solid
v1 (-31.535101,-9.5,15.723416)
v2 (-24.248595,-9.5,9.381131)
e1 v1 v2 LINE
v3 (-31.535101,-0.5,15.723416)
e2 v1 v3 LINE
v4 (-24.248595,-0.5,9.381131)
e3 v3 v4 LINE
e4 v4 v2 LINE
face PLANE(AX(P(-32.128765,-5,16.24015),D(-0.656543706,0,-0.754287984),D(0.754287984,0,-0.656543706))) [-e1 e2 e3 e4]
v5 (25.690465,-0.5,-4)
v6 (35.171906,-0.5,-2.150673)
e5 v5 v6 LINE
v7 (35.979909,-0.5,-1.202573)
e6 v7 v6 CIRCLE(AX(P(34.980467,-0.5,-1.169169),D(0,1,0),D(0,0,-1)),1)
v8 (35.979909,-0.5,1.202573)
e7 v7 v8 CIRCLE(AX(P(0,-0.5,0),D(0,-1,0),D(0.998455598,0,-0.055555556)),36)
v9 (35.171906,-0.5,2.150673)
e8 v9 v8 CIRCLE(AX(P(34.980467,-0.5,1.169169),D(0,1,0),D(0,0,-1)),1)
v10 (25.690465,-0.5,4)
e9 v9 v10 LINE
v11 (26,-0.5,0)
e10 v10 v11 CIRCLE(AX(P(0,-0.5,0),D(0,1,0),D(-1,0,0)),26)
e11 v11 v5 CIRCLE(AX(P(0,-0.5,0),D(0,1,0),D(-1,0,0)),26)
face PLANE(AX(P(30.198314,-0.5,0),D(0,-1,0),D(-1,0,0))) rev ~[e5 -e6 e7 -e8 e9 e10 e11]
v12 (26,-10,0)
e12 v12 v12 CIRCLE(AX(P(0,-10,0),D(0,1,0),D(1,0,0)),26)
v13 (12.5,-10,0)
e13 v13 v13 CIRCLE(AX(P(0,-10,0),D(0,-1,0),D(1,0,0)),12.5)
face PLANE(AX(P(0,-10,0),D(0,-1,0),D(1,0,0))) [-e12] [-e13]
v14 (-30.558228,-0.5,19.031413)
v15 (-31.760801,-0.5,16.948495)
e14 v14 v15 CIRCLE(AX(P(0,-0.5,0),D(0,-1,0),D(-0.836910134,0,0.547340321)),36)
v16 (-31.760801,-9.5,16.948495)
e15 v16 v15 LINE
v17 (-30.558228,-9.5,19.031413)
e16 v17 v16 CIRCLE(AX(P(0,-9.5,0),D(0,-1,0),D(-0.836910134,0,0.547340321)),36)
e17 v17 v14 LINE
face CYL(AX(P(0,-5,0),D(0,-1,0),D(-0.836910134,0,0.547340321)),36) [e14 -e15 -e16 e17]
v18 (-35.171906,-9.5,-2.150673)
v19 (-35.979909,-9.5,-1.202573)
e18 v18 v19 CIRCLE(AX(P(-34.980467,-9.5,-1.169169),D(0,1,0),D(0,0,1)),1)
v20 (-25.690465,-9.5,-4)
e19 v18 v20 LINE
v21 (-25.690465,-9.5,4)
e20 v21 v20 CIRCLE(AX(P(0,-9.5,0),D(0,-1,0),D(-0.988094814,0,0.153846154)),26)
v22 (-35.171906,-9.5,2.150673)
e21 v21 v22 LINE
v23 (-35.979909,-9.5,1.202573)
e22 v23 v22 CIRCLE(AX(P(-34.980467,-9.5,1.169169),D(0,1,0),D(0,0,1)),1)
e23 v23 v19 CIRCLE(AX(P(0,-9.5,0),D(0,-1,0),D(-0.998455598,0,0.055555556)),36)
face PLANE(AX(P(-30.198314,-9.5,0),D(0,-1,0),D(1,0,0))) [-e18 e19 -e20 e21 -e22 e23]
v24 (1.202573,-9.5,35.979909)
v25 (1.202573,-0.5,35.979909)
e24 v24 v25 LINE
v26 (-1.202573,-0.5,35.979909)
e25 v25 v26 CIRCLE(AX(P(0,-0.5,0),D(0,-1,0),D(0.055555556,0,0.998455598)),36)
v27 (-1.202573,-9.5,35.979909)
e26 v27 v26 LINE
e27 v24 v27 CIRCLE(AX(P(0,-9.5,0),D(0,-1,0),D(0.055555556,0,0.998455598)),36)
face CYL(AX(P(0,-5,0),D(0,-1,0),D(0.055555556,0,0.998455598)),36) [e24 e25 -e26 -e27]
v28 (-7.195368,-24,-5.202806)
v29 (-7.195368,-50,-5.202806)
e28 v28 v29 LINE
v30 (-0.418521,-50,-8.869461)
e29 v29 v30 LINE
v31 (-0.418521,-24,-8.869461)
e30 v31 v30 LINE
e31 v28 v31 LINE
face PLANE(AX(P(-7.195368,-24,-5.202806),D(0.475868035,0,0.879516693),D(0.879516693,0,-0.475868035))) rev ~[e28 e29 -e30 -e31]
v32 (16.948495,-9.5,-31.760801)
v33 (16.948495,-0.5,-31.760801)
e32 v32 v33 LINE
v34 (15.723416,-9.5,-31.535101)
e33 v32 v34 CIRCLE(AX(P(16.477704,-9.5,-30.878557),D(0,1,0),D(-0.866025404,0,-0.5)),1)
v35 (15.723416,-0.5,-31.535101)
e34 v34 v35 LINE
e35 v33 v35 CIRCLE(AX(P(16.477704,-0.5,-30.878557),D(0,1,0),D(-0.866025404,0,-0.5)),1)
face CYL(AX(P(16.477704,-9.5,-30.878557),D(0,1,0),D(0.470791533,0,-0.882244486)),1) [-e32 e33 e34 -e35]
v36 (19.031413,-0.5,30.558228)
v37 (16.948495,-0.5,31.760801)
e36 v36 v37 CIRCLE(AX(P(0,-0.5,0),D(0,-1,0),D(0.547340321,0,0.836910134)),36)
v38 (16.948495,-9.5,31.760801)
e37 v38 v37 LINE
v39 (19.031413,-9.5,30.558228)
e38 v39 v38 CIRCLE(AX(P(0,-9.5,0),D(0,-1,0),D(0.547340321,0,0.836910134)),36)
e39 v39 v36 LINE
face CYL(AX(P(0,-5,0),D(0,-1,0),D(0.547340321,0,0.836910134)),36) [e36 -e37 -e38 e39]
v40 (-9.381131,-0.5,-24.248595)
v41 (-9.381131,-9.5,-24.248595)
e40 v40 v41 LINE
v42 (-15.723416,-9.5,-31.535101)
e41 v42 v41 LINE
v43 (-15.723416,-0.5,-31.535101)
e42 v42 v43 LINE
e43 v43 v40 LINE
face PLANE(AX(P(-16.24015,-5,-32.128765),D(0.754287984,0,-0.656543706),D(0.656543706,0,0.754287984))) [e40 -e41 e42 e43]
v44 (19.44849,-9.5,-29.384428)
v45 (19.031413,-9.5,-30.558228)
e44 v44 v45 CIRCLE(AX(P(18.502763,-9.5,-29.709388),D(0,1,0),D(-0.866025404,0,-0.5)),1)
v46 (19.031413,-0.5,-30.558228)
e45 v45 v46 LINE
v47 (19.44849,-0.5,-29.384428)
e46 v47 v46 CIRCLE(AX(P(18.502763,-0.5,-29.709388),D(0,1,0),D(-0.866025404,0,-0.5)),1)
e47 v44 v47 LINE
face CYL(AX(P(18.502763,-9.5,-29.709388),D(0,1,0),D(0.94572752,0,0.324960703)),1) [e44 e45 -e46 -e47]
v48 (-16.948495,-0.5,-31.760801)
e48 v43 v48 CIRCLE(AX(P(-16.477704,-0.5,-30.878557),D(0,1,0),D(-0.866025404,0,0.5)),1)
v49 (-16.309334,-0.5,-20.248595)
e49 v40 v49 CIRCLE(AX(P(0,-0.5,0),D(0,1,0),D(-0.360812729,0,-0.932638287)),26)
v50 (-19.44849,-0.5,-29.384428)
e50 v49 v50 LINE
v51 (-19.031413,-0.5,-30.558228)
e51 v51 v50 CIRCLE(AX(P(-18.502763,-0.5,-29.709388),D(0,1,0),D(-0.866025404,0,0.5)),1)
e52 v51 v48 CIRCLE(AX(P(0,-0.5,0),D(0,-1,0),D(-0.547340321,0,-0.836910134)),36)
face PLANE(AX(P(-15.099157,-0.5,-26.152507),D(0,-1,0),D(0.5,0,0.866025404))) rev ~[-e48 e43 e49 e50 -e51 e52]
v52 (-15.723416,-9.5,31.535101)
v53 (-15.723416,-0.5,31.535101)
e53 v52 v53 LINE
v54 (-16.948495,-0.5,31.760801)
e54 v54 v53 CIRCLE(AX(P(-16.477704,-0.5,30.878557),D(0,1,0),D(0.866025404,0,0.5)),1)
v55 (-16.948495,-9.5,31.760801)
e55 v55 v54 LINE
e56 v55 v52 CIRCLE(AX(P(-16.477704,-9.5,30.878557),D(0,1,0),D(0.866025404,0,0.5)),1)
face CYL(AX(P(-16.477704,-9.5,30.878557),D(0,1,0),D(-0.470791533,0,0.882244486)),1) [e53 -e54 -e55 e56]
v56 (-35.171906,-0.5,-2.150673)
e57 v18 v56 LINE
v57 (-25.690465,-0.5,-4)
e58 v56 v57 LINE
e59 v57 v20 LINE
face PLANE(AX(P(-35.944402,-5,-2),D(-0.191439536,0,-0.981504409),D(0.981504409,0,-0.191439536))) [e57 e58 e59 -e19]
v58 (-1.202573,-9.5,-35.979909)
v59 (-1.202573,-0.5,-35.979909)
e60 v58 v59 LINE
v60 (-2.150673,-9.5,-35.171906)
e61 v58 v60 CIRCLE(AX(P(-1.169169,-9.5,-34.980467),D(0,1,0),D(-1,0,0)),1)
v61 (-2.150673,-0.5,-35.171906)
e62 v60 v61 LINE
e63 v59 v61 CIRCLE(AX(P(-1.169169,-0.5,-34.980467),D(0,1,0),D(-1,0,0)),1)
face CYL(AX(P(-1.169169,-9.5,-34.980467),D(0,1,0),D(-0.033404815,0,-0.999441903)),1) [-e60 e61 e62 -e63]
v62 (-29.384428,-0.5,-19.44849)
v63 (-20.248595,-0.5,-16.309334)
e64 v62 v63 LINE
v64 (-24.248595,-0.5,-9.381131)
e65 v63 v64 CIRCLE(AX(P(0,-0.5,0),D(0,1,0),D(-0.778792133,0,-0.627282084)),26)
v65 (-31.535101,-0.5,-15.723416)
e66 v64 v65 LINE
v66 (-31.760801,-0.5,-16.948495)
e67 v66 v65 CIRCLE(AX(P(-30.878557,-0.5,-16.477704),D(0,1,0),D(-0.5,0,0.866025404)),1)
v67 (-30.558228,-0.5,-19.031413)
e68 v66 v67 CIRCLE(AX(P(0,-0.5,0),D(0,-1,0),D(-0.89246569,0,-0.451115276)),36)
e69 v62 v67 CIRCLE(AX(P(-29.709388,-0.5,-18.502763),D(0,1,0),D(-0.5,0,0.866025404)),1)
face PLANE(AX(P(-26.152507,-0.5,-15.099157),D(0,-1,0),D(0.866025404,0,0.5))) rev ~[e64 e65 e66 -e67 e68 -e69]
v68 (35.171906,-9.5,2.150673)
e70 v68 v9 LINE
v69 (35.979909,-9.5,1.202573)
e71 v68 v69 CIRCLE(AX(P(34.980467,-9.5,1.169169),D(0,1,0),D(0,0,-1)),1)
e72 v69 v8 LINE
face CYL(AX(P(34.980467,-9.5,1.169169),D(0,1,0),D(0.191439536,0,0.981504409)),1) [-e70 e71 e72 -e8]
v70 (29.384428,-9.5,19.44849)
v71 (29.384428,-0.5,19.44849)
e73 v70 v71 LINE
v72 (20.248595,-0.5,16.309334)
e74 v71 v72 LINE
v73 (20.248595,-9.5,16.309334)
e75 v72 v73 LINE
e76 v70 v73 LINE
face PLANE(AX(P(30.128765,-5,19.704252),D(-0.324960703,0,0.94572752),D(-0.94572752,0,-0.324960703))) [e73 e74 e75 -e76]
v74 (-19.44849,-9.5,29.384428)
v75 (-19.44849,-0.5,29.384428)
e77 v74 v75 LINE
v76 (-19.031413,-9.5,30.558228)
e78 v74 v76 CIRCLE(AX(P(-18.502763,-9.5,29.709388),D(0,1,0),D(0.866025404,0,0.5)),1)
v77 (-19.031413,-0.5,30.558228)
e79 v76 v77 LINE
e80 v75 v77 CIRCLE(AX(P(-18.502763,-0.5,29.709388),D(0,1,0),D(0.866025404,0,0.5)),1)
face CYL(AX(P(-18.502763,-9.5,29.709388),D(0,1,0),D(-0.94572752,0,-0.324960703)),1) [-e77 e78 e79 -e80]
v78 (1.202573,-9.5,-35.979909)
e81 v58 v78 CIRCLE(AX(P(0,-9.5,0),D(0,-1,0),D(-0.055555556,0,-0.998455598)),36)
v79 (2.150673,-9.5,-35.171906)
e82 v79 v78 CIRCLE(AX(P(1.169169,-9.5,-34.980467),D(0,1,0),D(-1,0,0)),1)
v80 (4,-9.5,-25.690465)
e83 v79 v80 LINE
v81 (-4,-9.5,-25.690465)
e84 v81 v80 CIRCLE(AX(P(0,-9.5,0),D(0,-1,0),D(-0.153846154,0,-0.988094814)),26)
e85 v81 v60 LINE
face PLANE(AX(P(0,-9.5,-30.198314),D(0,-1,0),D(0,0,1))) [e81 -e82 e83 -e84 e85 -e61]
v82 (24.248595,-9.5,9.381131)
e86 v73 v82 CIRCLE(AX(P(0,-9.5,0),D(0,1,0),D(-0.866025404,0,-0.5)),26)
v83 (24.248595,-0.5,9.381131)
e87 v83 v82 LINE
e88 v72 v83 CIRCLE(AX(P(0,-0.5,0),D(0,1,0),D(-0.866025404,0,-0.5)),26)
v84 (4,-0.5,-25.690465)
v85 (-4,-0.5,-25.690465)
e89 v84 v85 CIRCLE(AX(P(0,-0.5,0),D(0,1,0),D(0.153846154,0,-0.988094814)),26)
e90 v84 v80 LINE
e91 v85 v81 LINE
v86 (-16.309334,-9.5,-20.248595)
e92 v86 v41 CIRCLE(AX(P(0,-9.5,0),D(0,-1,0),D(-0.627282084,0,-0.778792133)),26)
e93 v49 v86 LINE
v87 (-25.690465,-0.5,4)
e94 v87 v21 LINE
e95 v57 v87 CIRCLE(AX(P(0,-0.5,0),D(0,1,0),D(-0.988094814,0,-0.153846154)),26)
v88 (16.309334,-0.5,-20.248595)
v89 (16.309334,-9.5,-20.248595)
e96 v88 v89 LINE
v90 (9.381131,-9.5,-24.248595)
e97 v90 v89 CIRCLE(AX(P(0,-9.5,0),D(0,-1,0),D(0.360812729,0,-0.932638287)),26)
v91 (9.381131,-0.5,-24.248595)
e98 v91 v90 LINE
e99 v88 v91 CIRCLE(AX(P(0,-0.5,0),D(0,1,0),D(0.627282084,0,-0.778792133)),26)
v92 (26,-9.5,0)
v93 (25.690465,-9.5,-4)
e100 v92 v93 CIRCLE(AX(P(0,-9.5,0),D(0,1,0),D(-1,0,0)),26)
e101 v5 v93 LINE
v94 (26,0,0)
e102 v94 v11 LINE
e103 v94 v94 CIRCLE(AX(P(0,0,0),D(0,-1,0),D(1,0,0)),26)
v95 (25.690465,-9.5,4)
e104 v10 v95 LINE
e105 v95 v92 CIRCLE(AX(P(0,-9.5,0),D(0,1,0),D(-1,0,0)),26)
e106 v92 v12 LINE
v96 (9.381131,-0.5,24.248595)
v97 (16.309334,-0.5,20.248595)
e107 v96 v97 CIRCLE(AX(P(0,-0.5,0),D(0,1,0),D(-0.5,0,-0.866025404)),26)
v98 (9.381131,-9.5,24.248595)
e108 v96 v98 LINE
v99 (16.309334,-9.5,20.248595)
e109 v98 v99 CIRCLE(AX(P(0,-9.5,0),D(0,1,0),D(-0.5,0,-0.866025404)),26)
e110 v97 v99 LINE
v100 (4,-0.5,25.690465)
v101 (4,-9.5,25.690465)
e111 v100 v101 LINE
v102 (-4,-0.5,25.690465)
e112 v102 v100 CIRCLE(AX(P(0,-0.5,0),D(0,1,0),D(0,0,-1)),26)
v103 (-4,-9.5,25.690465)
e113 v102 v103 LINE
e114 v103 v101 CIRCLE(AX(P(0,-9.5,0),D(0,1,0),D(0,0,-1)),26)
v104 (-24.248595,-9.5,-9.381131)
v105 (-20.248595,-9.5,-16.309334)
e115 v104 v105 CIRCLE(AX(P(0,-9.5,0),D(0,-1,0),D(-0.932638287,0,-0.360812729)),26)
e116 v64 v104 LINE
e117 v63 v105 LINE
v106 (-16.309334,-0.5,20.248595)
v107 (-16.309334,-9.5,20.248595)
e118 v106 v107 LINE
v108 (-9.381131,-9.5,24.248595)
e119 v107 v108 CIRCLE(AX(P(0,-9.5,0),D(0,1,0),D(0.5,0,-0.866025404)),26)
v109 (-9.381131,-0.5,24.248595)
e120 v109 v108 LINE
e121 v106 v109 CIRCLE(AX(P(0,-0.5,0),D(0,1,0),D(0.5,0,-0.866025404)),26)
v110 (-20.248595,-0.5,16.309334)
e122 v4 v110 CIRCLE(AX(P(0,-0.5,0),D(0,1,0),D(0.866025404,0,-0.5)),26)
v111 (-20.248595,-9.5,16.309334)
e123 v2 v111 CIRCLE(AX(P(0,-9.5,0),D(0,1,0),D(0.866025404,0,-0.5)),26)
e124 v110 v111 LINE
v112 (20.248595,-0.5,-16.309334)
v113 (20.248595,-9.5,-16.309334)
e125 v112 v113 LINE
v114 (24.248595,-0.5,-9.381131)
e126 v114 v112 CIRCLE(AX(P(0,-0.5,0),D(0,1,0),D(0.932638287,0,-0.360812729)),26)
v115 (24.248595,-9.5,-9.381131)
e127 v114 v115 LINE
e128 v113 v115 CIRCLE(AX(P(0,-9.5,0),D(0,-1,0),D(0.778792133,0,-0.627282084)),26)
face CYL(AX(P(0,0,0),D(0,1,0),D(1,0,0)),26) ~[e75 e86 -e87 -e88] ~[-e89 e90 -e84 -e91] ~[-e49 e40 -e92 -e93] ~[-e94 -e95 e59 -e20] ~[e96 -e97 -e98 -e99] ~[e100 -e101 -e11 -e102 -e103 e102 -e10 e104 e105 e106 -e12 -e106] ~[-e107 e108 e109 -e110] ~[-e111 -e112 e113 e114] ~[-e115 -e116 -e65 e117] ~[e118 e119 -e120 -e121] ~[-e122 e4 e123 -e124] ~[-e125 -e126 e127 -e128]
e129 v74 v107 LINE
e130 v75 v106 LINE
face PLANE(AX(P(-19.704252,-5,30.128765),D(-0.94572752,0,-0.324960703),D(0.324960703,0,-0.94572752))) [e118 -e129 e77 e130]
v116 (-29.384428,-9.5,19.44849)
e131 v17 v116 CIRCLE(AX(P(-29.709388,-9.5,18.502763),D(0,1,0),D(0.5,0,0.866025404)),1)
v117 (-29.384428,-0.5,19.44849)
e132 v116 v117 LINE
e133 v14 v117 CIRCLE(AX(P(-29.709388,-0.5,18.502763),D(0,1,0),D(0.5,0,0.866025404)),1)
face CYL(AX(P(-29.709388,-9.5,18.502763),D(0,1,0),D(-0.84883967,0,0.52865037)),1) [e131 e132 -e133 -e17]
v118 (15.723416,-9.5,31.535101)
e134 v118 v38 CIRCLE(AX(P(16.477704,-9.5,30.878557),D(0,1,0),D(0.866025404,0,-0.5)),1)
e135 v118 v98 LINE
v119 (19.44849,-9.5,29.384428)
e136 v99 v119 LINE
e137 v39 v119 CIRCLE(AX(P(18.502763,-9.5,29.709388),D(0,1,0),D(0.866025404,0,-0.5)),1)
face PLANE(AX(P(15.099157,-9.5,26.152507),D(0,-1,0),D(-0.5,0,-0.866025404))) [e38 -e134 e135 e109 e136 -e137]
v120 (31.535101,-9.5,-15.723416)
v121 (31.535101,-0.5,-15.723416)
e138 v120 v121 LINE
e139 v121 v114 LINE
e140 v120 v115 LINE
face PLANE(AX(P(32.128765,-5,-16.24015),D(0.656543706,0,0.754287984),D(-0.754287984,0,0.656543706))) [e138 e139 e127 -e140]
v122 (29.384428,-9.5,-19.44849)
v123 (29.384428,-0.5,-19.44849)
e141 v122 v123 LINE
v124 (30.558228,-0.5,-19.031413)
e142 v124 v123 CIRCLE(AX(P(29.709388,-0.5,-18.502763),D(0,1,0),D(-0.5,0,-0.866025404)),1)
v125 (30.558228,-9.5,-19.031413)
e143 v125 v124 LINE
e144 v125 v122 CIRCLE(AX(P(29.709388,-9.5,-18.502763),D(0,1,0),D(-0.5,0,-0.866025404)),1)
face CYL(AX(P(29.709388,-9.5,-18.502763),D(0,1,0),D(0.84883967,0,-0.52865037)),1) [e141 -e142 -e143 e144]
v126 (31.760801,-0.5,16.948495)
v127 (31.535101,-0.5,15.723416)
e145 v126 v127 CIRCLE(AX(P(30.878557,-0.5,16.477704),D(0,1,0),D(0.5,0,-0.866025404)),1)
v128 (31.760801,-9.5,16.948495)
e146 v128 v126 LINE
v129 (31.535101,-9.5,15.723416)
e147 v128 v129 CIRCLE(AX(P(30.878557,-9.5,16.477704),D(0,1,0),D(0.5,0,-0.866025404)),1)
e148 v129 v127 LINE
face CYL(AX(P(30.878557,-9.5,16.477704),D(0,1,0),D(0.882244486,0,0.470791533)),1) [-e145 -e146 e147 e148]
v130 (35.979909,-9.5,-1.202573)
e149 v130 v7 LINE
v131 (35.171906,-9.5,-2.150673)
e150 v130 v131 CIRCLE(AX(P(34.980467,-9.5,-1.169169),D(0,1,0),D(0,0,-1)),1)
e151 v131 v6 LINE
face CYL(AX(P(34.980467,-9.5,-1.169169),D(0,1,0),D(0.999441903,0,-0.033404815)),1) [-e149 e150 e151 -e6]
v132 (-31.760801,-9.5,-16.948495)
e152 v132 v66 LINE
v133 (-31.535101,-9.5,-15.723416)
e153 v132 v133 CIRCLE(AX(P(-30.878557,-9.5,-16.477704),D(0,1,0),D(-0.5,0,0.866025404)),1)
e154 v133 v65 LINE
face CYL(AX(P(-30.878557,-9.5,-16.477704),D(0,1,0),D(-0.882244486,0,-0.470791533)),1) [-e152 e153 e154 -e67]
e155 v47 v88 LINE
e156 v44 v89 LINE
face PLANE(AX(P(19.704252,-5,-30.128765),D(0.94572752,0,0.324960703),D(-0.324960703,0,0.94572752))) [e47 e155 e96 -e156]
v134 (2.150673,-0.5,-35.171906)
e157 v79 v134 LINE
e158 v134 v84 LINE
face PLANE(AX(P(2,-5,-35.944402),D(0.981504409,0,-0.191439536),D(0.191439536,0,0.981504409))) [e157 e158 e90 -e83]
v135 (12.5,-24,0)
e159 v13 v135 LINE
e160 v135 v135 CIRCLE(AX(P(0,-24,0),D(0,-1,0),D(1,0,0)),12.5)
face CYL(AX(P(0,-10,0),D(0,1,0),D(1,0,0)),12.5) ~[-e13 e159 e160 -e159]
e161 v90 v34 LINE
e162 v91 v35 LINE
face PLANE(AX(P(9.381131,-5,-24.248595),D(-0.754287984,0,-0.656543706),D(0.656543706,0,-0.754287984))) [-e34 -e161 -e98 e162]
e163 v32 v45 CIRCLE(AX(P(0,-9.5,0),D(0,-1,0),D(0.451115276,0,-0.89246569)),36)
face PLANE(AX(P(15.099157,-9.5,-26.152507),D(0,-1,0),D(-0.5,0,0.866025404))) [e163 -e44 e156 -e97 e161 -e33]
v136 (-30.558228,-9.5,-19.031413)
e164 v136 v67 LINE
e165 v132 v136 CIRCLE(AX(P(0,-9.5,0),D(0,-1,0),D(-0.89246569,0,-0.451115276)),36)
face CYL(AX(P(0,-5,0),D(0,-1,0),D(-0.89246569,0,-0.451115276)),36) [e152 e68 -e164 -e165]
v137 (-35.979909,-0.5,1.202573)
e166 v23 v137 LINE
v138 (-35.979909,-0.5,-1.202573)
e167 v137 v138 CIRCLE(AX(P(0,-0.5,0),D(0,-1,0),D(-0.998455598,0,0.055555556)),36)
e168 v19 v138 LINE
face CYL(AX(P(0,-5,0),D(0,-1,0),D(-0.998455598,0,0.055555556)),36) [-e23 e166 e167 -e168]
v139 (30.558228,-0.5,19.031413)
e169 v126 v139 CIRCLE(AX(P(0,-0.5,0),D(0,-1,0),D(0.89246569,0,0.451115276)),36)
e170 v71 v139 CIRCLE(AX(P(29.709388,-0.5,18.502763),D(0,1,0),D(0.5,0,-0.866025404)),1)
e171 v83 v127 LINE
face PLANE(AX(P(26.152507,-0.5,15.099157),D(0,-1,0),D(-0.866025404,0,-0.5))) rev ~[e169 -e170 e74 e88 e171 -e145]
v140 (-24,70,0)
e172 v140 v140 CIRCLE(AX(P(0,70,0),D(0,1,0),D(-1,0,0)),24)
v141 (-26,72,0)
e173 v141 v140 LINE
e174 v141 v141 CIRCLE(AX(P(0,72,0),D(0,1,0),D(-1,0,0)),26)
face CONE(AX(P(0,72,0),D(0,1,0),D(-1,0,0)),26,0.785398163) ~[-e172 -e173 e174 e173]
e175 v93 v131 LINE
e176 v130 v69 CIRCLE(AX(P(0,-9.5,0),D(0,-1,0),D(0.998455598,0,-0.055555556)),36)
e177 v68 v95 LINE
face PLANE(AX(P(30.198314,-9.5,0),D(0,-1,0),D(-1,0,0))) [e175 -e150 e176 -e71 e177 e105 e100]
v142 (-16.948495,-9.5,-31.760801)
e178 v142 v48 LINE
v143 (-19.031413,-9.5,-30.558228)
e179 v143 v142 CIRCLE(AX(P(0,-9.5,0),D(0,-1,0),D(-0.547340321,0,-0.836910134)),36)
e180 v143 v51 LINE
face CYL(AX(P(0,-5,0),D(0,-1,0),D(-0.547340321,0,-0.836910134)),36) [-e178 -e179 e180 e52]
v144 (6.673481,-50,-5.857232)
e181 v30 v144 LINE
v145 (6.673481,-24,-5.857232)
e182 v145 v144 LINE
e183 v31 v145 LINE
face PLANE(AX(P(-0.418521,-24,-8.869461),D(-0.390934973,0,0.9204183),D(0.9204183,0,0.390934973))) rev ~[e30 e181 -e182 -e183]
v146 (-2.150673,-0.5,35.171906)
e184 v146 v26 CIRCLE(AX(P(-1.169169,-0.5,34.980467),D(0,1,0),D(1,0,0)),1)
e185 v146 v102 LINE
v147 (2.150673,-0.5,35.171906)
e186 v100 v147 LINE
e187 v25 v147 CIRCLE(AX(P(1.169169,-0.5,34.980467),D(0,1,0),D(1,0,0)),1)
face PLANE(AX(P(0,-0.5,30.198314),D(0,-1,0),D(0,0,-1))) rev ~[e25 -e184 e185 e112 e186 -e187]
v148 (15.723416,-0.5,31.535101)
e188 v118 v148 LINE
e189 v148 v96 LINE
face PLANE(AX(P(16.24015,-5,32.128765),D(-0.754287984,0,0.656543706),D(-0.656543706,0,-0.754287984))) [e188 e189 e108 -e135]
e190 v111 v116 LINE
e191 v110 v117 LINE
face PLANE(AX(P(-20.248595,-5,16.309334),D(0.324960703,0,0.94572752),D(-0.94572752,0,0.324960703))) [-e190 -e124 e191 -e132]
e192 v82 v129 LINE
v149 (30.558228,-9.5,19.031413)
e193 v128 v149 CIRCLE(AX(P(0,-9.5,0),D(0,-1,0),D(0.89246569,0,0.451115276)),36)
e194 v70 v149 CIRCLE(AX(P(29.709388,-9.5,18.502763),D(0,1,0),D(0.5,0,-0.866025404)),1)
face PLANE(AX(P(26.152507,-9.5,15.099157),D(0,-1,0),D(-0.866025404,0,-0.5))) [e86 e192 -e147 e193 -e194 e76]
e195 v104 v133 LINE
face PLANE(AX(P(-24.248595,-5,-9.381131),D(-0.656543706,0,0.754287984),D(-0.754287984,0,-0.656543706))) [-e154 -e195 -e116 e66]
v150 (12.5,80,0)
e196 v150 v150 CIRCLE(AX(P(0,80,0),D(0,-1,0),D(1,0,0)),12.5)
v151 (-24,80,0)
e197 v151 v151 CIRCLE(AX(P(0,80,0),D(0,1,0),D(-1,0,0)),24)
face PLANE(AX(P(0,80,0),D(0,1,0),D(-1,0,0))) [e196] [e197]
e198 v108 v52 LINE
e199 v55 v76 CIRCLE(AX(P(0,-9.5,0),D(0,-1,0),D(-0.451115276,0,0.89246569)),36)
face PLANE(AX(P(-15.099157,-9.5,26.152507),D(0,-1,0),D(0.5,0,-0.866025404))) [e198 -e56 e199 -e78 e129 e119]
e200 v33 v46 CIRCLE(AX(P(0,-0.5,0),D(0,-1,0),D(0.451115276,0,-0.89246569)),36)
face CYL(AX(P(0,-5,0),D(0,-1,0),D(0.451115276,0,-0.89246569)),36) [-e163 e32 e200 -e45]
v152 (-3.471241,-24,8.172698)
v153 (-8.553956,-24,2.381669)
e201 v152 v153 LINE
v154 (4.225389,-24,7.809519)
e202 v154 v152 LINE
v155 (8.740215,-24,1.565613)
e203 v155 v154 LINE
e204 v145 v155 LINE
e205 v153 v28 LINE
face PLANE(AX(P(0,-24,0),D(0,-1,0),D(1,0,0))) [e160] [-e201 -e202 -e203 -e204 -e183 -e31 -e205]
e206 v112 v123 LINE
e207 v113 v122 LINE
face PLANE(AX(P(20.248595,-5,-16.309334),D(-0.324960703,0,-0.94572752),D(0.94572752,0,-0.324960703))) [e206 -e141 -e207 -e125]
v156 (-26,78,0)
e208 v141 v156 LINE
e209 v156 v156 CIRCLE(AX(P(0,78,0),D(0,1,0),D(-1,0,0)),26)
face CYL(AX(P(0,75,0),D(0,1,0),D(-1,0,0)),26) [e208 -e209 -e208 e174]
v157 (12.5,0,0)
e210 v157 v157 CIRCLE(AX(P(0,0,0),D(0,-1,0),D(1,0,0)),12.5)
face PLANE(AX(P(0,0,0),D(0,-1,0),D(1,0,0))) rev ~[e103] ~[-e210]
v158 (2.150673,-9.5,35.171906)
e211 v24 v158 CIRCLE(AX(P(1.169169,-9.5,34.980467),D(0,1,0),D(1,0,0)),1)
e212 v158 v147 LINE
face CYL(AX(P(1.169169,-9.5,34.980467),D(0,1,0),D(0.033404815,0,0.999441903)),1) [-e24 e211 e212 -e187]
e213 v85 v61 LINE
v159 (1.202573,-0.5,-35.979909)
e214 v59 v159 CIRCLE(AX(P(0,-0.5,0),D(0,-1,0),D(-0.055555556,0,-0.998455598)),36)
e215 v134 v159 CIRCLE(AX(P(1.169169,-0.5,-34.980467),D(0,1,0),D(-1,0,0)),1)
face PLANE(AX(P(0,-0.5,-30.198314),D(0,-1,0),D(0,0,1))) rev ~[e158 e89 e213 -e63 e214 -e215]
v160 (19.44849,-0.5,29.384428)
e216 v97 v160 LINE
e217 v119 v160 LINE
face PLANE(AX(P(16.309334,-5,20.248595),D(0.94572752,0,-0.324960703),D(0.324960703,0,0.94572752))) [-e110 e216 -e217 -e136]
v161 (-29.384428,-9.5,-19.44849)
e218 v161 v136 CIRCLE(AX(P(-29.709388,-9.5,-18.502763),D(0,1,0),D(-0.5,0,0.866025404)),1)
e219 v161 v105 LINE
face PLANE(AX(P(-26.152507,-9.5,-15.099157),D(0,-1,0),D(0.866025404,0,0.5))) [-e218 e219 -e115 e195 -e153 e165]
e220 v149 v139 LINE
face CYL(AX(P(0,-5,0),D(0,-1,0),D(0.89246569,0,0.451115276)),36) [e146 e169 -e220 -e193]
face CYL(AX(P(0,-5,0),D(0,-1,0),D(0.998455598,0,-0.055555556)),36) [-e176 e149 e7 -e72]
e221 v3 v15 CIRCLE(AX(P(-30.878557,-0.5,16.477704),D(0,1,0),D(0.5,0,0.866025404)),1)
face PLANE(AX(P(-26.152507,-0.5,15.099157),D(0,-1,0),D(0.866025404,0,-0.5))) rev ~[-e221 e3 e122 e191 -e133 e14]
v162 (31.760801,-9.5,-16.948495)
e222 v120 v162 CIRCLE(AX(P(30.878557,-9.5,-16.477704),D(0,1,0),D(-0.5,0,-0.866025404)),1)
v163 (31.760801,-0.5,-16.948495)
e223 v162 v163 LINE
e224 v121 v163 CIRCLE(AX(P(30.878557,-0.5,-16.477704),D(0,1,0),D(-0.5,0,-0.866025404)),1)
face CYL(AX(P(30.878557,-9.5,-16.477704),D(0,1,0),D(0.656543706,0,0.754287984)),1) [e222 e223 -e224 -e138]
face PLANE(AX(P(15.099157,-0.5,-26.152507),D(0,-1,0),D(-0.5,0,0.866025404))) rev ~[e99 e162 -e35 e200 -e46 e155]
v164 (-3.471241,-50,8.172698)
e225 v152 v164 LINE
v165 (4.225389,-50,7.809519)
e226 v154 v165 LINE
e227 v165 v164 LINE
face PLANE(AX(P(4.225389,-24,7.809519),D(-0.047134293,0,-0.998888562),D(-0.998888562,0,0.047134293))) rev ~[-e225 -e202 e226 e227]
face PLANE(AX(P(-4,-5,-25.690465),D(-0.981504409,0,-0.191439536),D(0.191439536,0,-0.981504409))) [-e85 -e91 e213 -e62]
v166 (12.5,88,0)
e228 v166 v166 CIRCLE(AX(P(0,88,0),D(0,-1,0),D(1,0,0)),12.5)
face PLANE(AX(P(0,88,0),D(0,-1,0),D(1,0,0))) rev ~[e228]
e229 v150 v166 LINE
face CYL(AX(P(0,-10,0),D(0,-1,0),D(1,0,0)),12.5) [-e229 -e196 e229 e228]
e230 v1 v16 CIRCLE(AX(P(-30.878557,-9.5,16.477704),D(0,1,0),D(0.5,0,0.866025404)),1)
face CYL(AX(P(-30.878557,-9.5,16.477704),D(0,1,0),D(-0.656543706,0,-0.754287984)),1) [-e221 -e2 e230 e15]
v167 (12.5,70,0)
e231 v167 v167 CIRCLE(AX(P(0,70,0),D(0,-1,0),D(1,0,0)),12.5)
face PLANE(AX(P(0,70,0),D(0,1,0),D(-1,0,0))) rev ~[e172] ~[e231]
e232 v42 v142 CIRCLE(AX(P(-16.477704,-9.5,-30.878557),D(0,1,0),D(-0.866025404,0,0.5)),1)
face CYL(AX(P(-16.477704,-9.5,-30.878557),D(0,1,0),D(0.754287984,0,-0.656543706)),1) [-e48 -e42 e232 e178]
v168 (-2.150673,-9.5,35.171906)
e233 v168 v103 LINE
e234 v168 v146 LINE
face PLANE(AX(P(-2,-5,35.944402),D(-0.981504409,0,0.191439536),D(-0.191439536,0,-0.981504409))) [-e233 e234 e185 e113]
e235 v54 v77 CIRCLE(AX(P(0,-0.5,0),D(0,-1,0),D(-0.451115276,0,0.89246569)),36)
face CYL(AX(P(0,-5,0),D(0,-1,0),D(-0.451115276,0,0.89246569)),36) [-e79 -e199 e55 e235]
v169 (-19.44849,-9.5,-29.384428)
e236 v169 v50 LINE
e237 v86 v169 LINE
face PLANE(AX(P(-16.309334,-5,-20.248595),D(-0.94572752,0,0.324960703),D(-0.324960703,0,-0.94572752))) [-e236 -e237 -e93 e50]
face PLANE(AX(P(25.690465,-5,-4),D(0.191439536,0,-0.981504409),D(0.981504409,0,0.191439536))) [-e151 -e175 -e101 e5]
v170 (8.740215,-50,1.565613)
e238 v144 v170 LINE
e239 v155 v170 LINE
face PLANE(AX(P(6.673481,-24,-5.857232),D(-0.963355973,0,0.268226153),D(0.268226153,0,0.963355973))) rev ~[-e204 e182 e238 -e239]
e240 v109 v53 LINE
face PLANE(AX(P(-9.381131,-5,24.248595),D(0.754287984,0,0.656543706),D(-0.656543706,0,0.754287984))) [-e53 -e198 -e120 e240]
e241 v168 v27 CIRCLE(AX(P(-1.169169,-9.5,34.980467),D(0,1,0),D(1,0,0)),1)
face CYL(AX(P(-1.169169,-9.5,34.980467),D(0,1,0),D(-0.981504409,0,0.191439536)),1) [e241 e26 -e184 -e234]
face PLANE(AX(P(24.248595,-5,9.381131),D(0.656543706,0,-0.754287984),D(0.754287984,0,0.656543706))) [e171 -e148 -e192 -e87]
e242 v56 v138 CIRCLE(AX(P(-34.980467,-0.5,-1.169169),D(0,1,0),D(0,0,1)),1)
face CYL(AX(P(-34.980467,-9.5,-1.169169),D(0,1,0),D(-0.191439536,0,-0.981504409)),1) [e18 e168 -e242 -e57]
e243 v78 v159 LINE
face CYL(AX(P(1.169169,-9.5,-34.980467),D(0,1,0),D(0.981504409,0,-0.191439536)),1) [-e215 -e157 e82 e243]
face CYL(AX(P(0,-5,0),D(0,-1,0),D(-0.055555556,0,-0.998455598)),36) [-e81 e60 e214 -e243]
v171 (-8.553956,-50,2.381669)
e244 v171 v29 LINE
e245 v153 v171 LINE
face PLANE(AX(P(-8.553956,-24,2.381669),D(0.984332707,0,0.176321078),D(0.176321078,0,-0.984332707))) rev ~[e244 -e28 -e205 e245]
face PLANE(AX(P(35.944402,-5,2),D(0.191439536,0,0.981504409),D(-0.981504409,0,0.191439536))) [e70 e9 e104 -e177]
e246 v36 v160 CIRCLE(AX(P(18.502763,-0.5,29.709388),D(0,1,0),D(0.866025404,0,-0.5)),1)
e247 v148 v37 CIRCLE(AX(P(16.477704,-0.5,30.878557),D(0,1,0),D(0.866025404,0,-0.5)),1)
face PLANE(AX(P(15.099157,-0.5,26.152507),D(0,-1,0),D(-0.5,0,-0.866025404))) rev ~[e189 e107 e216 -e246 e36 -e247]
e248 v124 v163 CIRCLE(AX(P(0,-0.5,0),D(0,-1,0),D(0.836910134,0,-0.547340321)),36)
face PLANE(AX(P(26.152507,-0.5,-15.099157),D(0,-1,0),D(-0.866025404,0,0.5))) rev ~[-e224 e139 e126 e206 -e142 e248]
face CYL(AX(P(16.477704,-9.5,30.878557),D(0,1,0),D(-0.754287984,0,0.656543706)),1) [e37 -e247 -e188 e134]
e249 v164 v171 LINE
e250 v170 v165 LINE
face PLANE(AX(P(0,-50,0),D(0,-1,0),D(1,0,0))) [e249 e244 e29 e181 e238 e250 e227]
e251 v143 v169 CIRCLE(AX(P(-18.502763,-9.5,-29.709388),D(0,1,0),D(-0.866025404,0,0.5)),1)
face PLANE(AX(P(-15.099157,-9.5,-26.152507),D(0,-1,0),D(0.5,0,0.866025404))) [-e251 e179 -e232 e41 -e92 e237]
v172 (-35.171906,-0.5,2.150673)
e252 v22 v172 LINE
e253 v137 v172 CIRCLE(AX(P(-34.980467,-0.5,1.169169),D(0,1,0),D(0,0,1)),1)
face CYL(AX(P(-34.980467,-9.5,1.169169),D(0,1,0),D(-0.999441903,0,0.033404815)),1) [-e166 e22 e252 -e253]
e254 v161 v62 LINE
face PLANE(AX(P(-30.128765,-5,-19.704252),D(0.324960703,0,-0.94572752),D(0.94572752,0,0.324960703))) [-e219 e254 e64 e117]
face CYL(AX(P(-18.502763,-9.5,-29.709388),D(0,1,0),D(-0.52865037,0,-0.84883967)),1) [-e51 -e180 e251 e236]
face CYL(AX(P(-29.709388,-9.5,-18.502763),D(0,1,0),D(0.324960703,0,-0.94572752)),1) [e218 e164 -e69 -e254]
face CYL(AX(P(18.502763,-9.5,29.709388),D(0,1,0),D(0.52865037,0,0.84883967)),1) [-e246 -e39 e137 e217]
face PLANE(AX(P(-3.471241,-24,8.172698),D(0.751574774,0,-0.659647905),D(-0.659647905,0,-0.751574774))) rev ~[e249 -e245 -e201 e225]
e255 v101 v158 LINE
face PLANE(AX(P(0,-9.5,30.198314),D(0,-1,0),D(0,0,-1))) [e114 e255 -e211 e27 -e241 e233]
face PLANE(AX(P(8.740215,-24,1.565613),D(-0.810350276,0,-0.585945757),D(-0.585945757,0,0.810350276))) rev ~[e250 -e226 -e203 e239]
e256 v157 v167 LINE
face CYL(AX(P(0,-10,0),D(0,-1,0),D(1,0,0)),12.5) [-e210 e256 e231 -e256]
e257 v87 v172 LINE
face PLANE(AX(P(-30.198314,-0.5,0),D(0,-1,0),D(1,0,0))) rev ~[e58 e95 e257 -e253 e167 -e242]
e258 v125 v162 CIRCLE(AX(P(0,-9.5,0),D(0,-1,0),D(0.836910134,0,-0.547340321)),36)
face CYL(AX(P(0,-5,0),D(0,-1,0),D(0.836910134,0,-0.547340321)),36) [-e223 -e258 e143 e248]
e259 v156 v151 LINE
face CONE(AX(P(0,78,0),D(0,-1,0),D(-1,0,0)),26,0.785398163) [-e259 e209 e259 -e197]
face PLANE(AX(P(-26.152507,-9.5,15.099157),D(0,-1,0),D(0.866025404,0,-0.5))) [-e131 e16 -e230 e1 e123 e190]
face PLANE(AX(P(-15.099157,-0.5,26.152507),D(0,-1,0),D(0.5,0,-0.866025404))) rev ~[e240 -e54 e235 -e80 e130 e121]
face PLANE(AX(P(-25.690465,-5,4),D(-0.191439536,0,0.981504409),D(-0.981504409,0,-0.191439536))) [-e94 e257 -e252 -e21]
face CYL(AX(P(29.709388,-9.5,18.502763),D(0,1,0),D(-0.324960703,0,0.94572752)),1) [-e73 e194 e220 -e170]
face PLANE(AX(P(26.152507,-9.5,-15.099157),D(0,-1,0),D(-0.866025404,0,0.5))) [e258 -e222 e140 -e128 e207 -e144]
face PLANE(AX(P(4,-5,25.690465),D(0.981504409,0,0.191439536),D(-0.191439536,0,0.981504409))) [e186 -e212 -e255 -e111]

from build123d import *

# Parameters (mm, degrees)
F0_R      = 26
F1_DEPTH  = 10
F4_DEPTH  = 4.5
F5_R      = 1
F6_COUNT  = 12
F7_R      = 12.5
F8_DEPTH  = 98
F9_DEPTH  = 14
F11_DEPTH = 26
F13_R     = 26
F14_DEPTH = 5
F15_SIZE  = 2


with BuildPart() as f1:
    # F0 (on Front) → F1 (new body)
    with BuildSketch(Plane.XZ):
        Circle(F0_R)
    extrude(amount=F1_DEPTH)

    # F3 (on mid) → F4 (join, symmetric)
    with BuildSketch(Plane.XZ.offset(5)):
        with BuildLine():
            Line((-35.9444015112, -2), (-25.6904651573, -4))
            Line((-25.6904651573, -4), (-25.6904651573, 4))
            Line((-25.6904651573, 4), (-35.9444015112, 2))
            ThreePointArc((-35.9444015112, 2), (-36, 0), (-35.9444015112, -2))
        make_face()
    extrude(amount=F4_DEPTH, both=True)

    # F5
    f5_edges = [f1.edges().sort_by_distance(p)[0] for p in [
        (-35.944402, -5, -2),
        (-35.944402, -5, 2),
    ]]
    fillet(f5_edges, radius=F5_R)


with BuildPart() as f6_1:
    # F6: instance of F1
    add(f1.part.rotate(Axis((0, 0, 0), (0, -1, 0)), 1 * 360 / F6_COUNT))


with BuildPart() as f6_2:
    # F6: instance of F1
    add(f1.part.rotate(Axis((0, 0, 0), (0, -1, 0)), 2 * 360 / F6_COUNT))


with BuildPart() as f6_3:
    # F6: instance of F1
    add(f1.part.rotate(Axis((0, 0, 0), (0, -1, 0)), 3 * 360 / F6_COUNT))


with BuildPart() as f6_4:
    # F6: instance of F1
    add(f1.part.rotate(Axis((0, 0, 0), (0, -1, 0)), 4 * 360 / F6_COUNT))


with BuildPart() as f6_5:
    # F6: instance of F1
    add(f1.part.rotate(Axis((0, 0, 0), (0, -1, 0)), 5 * 360 / F6_COUNT))


with BuildPart() as f6_6:
    # F6: instance of F1
    add(f1.part.rotate(Axis((0, 0, 0), (0, -1, 0)), 6 * 360 / F6_COUNT))


with BuildPart() as f6_7:
    # F6: instance of F1
    add(f1.part.rotate(Axis((0, 0, 0), (0, -1, 0)), 7 * 360 / F6_COUNT))


with BuildPart() as f6_8:
    # F6: instance of F1
    add(f1.part.rotate(Axis((0, 0, 0), (0, -1, 0)), 8 * 360 / F6_COUNT))


with BuildPart() as f6_9:
    # F6: instance of F1
    add(f1.part.rotate(Axis((0, 0, 0), (0, -1, 0)), 9 * 360 / F6_COUNT))


with BuildPart() as f6_10:
    # F6: instance of F1
    add(f1.part.rotate(Axis((0, 0, 0), (0, -1, 0)), 10 * 360 / F6_COUNT))


with BuildPart() as f6_11:
    # F6: instance of F1
    add(f1.part.rotate(Axis((0, 0, 0), (0, -1, 0)), 11 * 360 / F6_COUNT))


with BuildPart() as f8:
    # F7 (on face) → F8 (new body)
    with BuildSketch(Plane.XZ.offset(10)):
        Circle(F7_R)
    extrude(amount=-F8_DEPTH)


with BuildPart() as f9:
    # F9 (new): a face of the model
    f9_faces = [f8.part.faces().sort_by_distance(p)[0] for p in [
        (0, -10, 0),
    ]]
    extrude(f9_faces, amount=F9_DEPTH)

    # F10 (on face) → F11 (join)
    with BuildSketch(Plane.XZ.offset(24)):
        Polygon((8.7402150444, 1.5656130559), (4.2253893698, 7.8095190592), (-3.4712406825, 8.1726979258), (-8.5539557005, 2.3816685616), (-7.1953676071, -5.2028058067), (-0.4185209468, -8.8694612846), (6.6734805227, -5.8572315112), align=None)
    extrude(amount=F11_DEPTH)


with BuildPart() as f1_1:
    add(f1.part)

    add(f6_1.part)  # F14 merges F6_1

    add(f6_2.part)  # F14 merges F6_2

    add(f6_3.part)  # F14 merges F6_3

    add(f6_4.part)  # F14 merges F6_4

    add(f6_5.part)  # F14 merges F6_5

    add(f6_6.part)  # F14 merges F6_6

    add(f6_7.part)  # F14 merges F6_7

    add(f6_8.part)  # F14 merges F6_8

    add(f6_9.part)  # F14 merges F6_9

    add(f6_10.part)  # F14 merges F6_10

    add(f6_11.part)  # F14 merges F6_11

    add(f8.part)  # F14 merges F8

    add(f9.part)  # F14 merges F9
    # F13 (on offset) → F14 (join, symmetric)
    with BuildSketch(Plane(origin=(0, 75, 0), x_dir=(-1, 0, 0), z_dir=(0, 1, 0))):
        Circle(F13_R)
    extrude(amount=F14_DEPTH, both=True)

    # F15
    f15_edges = [f1_1.edges().sort_by_distance(p)[0] for p in [
        (26, 80, 0),
        (26, 70, 0),
    ]]
    chamfer(f15_edges, length=F15_SIZE)


solid = f1_1.part
